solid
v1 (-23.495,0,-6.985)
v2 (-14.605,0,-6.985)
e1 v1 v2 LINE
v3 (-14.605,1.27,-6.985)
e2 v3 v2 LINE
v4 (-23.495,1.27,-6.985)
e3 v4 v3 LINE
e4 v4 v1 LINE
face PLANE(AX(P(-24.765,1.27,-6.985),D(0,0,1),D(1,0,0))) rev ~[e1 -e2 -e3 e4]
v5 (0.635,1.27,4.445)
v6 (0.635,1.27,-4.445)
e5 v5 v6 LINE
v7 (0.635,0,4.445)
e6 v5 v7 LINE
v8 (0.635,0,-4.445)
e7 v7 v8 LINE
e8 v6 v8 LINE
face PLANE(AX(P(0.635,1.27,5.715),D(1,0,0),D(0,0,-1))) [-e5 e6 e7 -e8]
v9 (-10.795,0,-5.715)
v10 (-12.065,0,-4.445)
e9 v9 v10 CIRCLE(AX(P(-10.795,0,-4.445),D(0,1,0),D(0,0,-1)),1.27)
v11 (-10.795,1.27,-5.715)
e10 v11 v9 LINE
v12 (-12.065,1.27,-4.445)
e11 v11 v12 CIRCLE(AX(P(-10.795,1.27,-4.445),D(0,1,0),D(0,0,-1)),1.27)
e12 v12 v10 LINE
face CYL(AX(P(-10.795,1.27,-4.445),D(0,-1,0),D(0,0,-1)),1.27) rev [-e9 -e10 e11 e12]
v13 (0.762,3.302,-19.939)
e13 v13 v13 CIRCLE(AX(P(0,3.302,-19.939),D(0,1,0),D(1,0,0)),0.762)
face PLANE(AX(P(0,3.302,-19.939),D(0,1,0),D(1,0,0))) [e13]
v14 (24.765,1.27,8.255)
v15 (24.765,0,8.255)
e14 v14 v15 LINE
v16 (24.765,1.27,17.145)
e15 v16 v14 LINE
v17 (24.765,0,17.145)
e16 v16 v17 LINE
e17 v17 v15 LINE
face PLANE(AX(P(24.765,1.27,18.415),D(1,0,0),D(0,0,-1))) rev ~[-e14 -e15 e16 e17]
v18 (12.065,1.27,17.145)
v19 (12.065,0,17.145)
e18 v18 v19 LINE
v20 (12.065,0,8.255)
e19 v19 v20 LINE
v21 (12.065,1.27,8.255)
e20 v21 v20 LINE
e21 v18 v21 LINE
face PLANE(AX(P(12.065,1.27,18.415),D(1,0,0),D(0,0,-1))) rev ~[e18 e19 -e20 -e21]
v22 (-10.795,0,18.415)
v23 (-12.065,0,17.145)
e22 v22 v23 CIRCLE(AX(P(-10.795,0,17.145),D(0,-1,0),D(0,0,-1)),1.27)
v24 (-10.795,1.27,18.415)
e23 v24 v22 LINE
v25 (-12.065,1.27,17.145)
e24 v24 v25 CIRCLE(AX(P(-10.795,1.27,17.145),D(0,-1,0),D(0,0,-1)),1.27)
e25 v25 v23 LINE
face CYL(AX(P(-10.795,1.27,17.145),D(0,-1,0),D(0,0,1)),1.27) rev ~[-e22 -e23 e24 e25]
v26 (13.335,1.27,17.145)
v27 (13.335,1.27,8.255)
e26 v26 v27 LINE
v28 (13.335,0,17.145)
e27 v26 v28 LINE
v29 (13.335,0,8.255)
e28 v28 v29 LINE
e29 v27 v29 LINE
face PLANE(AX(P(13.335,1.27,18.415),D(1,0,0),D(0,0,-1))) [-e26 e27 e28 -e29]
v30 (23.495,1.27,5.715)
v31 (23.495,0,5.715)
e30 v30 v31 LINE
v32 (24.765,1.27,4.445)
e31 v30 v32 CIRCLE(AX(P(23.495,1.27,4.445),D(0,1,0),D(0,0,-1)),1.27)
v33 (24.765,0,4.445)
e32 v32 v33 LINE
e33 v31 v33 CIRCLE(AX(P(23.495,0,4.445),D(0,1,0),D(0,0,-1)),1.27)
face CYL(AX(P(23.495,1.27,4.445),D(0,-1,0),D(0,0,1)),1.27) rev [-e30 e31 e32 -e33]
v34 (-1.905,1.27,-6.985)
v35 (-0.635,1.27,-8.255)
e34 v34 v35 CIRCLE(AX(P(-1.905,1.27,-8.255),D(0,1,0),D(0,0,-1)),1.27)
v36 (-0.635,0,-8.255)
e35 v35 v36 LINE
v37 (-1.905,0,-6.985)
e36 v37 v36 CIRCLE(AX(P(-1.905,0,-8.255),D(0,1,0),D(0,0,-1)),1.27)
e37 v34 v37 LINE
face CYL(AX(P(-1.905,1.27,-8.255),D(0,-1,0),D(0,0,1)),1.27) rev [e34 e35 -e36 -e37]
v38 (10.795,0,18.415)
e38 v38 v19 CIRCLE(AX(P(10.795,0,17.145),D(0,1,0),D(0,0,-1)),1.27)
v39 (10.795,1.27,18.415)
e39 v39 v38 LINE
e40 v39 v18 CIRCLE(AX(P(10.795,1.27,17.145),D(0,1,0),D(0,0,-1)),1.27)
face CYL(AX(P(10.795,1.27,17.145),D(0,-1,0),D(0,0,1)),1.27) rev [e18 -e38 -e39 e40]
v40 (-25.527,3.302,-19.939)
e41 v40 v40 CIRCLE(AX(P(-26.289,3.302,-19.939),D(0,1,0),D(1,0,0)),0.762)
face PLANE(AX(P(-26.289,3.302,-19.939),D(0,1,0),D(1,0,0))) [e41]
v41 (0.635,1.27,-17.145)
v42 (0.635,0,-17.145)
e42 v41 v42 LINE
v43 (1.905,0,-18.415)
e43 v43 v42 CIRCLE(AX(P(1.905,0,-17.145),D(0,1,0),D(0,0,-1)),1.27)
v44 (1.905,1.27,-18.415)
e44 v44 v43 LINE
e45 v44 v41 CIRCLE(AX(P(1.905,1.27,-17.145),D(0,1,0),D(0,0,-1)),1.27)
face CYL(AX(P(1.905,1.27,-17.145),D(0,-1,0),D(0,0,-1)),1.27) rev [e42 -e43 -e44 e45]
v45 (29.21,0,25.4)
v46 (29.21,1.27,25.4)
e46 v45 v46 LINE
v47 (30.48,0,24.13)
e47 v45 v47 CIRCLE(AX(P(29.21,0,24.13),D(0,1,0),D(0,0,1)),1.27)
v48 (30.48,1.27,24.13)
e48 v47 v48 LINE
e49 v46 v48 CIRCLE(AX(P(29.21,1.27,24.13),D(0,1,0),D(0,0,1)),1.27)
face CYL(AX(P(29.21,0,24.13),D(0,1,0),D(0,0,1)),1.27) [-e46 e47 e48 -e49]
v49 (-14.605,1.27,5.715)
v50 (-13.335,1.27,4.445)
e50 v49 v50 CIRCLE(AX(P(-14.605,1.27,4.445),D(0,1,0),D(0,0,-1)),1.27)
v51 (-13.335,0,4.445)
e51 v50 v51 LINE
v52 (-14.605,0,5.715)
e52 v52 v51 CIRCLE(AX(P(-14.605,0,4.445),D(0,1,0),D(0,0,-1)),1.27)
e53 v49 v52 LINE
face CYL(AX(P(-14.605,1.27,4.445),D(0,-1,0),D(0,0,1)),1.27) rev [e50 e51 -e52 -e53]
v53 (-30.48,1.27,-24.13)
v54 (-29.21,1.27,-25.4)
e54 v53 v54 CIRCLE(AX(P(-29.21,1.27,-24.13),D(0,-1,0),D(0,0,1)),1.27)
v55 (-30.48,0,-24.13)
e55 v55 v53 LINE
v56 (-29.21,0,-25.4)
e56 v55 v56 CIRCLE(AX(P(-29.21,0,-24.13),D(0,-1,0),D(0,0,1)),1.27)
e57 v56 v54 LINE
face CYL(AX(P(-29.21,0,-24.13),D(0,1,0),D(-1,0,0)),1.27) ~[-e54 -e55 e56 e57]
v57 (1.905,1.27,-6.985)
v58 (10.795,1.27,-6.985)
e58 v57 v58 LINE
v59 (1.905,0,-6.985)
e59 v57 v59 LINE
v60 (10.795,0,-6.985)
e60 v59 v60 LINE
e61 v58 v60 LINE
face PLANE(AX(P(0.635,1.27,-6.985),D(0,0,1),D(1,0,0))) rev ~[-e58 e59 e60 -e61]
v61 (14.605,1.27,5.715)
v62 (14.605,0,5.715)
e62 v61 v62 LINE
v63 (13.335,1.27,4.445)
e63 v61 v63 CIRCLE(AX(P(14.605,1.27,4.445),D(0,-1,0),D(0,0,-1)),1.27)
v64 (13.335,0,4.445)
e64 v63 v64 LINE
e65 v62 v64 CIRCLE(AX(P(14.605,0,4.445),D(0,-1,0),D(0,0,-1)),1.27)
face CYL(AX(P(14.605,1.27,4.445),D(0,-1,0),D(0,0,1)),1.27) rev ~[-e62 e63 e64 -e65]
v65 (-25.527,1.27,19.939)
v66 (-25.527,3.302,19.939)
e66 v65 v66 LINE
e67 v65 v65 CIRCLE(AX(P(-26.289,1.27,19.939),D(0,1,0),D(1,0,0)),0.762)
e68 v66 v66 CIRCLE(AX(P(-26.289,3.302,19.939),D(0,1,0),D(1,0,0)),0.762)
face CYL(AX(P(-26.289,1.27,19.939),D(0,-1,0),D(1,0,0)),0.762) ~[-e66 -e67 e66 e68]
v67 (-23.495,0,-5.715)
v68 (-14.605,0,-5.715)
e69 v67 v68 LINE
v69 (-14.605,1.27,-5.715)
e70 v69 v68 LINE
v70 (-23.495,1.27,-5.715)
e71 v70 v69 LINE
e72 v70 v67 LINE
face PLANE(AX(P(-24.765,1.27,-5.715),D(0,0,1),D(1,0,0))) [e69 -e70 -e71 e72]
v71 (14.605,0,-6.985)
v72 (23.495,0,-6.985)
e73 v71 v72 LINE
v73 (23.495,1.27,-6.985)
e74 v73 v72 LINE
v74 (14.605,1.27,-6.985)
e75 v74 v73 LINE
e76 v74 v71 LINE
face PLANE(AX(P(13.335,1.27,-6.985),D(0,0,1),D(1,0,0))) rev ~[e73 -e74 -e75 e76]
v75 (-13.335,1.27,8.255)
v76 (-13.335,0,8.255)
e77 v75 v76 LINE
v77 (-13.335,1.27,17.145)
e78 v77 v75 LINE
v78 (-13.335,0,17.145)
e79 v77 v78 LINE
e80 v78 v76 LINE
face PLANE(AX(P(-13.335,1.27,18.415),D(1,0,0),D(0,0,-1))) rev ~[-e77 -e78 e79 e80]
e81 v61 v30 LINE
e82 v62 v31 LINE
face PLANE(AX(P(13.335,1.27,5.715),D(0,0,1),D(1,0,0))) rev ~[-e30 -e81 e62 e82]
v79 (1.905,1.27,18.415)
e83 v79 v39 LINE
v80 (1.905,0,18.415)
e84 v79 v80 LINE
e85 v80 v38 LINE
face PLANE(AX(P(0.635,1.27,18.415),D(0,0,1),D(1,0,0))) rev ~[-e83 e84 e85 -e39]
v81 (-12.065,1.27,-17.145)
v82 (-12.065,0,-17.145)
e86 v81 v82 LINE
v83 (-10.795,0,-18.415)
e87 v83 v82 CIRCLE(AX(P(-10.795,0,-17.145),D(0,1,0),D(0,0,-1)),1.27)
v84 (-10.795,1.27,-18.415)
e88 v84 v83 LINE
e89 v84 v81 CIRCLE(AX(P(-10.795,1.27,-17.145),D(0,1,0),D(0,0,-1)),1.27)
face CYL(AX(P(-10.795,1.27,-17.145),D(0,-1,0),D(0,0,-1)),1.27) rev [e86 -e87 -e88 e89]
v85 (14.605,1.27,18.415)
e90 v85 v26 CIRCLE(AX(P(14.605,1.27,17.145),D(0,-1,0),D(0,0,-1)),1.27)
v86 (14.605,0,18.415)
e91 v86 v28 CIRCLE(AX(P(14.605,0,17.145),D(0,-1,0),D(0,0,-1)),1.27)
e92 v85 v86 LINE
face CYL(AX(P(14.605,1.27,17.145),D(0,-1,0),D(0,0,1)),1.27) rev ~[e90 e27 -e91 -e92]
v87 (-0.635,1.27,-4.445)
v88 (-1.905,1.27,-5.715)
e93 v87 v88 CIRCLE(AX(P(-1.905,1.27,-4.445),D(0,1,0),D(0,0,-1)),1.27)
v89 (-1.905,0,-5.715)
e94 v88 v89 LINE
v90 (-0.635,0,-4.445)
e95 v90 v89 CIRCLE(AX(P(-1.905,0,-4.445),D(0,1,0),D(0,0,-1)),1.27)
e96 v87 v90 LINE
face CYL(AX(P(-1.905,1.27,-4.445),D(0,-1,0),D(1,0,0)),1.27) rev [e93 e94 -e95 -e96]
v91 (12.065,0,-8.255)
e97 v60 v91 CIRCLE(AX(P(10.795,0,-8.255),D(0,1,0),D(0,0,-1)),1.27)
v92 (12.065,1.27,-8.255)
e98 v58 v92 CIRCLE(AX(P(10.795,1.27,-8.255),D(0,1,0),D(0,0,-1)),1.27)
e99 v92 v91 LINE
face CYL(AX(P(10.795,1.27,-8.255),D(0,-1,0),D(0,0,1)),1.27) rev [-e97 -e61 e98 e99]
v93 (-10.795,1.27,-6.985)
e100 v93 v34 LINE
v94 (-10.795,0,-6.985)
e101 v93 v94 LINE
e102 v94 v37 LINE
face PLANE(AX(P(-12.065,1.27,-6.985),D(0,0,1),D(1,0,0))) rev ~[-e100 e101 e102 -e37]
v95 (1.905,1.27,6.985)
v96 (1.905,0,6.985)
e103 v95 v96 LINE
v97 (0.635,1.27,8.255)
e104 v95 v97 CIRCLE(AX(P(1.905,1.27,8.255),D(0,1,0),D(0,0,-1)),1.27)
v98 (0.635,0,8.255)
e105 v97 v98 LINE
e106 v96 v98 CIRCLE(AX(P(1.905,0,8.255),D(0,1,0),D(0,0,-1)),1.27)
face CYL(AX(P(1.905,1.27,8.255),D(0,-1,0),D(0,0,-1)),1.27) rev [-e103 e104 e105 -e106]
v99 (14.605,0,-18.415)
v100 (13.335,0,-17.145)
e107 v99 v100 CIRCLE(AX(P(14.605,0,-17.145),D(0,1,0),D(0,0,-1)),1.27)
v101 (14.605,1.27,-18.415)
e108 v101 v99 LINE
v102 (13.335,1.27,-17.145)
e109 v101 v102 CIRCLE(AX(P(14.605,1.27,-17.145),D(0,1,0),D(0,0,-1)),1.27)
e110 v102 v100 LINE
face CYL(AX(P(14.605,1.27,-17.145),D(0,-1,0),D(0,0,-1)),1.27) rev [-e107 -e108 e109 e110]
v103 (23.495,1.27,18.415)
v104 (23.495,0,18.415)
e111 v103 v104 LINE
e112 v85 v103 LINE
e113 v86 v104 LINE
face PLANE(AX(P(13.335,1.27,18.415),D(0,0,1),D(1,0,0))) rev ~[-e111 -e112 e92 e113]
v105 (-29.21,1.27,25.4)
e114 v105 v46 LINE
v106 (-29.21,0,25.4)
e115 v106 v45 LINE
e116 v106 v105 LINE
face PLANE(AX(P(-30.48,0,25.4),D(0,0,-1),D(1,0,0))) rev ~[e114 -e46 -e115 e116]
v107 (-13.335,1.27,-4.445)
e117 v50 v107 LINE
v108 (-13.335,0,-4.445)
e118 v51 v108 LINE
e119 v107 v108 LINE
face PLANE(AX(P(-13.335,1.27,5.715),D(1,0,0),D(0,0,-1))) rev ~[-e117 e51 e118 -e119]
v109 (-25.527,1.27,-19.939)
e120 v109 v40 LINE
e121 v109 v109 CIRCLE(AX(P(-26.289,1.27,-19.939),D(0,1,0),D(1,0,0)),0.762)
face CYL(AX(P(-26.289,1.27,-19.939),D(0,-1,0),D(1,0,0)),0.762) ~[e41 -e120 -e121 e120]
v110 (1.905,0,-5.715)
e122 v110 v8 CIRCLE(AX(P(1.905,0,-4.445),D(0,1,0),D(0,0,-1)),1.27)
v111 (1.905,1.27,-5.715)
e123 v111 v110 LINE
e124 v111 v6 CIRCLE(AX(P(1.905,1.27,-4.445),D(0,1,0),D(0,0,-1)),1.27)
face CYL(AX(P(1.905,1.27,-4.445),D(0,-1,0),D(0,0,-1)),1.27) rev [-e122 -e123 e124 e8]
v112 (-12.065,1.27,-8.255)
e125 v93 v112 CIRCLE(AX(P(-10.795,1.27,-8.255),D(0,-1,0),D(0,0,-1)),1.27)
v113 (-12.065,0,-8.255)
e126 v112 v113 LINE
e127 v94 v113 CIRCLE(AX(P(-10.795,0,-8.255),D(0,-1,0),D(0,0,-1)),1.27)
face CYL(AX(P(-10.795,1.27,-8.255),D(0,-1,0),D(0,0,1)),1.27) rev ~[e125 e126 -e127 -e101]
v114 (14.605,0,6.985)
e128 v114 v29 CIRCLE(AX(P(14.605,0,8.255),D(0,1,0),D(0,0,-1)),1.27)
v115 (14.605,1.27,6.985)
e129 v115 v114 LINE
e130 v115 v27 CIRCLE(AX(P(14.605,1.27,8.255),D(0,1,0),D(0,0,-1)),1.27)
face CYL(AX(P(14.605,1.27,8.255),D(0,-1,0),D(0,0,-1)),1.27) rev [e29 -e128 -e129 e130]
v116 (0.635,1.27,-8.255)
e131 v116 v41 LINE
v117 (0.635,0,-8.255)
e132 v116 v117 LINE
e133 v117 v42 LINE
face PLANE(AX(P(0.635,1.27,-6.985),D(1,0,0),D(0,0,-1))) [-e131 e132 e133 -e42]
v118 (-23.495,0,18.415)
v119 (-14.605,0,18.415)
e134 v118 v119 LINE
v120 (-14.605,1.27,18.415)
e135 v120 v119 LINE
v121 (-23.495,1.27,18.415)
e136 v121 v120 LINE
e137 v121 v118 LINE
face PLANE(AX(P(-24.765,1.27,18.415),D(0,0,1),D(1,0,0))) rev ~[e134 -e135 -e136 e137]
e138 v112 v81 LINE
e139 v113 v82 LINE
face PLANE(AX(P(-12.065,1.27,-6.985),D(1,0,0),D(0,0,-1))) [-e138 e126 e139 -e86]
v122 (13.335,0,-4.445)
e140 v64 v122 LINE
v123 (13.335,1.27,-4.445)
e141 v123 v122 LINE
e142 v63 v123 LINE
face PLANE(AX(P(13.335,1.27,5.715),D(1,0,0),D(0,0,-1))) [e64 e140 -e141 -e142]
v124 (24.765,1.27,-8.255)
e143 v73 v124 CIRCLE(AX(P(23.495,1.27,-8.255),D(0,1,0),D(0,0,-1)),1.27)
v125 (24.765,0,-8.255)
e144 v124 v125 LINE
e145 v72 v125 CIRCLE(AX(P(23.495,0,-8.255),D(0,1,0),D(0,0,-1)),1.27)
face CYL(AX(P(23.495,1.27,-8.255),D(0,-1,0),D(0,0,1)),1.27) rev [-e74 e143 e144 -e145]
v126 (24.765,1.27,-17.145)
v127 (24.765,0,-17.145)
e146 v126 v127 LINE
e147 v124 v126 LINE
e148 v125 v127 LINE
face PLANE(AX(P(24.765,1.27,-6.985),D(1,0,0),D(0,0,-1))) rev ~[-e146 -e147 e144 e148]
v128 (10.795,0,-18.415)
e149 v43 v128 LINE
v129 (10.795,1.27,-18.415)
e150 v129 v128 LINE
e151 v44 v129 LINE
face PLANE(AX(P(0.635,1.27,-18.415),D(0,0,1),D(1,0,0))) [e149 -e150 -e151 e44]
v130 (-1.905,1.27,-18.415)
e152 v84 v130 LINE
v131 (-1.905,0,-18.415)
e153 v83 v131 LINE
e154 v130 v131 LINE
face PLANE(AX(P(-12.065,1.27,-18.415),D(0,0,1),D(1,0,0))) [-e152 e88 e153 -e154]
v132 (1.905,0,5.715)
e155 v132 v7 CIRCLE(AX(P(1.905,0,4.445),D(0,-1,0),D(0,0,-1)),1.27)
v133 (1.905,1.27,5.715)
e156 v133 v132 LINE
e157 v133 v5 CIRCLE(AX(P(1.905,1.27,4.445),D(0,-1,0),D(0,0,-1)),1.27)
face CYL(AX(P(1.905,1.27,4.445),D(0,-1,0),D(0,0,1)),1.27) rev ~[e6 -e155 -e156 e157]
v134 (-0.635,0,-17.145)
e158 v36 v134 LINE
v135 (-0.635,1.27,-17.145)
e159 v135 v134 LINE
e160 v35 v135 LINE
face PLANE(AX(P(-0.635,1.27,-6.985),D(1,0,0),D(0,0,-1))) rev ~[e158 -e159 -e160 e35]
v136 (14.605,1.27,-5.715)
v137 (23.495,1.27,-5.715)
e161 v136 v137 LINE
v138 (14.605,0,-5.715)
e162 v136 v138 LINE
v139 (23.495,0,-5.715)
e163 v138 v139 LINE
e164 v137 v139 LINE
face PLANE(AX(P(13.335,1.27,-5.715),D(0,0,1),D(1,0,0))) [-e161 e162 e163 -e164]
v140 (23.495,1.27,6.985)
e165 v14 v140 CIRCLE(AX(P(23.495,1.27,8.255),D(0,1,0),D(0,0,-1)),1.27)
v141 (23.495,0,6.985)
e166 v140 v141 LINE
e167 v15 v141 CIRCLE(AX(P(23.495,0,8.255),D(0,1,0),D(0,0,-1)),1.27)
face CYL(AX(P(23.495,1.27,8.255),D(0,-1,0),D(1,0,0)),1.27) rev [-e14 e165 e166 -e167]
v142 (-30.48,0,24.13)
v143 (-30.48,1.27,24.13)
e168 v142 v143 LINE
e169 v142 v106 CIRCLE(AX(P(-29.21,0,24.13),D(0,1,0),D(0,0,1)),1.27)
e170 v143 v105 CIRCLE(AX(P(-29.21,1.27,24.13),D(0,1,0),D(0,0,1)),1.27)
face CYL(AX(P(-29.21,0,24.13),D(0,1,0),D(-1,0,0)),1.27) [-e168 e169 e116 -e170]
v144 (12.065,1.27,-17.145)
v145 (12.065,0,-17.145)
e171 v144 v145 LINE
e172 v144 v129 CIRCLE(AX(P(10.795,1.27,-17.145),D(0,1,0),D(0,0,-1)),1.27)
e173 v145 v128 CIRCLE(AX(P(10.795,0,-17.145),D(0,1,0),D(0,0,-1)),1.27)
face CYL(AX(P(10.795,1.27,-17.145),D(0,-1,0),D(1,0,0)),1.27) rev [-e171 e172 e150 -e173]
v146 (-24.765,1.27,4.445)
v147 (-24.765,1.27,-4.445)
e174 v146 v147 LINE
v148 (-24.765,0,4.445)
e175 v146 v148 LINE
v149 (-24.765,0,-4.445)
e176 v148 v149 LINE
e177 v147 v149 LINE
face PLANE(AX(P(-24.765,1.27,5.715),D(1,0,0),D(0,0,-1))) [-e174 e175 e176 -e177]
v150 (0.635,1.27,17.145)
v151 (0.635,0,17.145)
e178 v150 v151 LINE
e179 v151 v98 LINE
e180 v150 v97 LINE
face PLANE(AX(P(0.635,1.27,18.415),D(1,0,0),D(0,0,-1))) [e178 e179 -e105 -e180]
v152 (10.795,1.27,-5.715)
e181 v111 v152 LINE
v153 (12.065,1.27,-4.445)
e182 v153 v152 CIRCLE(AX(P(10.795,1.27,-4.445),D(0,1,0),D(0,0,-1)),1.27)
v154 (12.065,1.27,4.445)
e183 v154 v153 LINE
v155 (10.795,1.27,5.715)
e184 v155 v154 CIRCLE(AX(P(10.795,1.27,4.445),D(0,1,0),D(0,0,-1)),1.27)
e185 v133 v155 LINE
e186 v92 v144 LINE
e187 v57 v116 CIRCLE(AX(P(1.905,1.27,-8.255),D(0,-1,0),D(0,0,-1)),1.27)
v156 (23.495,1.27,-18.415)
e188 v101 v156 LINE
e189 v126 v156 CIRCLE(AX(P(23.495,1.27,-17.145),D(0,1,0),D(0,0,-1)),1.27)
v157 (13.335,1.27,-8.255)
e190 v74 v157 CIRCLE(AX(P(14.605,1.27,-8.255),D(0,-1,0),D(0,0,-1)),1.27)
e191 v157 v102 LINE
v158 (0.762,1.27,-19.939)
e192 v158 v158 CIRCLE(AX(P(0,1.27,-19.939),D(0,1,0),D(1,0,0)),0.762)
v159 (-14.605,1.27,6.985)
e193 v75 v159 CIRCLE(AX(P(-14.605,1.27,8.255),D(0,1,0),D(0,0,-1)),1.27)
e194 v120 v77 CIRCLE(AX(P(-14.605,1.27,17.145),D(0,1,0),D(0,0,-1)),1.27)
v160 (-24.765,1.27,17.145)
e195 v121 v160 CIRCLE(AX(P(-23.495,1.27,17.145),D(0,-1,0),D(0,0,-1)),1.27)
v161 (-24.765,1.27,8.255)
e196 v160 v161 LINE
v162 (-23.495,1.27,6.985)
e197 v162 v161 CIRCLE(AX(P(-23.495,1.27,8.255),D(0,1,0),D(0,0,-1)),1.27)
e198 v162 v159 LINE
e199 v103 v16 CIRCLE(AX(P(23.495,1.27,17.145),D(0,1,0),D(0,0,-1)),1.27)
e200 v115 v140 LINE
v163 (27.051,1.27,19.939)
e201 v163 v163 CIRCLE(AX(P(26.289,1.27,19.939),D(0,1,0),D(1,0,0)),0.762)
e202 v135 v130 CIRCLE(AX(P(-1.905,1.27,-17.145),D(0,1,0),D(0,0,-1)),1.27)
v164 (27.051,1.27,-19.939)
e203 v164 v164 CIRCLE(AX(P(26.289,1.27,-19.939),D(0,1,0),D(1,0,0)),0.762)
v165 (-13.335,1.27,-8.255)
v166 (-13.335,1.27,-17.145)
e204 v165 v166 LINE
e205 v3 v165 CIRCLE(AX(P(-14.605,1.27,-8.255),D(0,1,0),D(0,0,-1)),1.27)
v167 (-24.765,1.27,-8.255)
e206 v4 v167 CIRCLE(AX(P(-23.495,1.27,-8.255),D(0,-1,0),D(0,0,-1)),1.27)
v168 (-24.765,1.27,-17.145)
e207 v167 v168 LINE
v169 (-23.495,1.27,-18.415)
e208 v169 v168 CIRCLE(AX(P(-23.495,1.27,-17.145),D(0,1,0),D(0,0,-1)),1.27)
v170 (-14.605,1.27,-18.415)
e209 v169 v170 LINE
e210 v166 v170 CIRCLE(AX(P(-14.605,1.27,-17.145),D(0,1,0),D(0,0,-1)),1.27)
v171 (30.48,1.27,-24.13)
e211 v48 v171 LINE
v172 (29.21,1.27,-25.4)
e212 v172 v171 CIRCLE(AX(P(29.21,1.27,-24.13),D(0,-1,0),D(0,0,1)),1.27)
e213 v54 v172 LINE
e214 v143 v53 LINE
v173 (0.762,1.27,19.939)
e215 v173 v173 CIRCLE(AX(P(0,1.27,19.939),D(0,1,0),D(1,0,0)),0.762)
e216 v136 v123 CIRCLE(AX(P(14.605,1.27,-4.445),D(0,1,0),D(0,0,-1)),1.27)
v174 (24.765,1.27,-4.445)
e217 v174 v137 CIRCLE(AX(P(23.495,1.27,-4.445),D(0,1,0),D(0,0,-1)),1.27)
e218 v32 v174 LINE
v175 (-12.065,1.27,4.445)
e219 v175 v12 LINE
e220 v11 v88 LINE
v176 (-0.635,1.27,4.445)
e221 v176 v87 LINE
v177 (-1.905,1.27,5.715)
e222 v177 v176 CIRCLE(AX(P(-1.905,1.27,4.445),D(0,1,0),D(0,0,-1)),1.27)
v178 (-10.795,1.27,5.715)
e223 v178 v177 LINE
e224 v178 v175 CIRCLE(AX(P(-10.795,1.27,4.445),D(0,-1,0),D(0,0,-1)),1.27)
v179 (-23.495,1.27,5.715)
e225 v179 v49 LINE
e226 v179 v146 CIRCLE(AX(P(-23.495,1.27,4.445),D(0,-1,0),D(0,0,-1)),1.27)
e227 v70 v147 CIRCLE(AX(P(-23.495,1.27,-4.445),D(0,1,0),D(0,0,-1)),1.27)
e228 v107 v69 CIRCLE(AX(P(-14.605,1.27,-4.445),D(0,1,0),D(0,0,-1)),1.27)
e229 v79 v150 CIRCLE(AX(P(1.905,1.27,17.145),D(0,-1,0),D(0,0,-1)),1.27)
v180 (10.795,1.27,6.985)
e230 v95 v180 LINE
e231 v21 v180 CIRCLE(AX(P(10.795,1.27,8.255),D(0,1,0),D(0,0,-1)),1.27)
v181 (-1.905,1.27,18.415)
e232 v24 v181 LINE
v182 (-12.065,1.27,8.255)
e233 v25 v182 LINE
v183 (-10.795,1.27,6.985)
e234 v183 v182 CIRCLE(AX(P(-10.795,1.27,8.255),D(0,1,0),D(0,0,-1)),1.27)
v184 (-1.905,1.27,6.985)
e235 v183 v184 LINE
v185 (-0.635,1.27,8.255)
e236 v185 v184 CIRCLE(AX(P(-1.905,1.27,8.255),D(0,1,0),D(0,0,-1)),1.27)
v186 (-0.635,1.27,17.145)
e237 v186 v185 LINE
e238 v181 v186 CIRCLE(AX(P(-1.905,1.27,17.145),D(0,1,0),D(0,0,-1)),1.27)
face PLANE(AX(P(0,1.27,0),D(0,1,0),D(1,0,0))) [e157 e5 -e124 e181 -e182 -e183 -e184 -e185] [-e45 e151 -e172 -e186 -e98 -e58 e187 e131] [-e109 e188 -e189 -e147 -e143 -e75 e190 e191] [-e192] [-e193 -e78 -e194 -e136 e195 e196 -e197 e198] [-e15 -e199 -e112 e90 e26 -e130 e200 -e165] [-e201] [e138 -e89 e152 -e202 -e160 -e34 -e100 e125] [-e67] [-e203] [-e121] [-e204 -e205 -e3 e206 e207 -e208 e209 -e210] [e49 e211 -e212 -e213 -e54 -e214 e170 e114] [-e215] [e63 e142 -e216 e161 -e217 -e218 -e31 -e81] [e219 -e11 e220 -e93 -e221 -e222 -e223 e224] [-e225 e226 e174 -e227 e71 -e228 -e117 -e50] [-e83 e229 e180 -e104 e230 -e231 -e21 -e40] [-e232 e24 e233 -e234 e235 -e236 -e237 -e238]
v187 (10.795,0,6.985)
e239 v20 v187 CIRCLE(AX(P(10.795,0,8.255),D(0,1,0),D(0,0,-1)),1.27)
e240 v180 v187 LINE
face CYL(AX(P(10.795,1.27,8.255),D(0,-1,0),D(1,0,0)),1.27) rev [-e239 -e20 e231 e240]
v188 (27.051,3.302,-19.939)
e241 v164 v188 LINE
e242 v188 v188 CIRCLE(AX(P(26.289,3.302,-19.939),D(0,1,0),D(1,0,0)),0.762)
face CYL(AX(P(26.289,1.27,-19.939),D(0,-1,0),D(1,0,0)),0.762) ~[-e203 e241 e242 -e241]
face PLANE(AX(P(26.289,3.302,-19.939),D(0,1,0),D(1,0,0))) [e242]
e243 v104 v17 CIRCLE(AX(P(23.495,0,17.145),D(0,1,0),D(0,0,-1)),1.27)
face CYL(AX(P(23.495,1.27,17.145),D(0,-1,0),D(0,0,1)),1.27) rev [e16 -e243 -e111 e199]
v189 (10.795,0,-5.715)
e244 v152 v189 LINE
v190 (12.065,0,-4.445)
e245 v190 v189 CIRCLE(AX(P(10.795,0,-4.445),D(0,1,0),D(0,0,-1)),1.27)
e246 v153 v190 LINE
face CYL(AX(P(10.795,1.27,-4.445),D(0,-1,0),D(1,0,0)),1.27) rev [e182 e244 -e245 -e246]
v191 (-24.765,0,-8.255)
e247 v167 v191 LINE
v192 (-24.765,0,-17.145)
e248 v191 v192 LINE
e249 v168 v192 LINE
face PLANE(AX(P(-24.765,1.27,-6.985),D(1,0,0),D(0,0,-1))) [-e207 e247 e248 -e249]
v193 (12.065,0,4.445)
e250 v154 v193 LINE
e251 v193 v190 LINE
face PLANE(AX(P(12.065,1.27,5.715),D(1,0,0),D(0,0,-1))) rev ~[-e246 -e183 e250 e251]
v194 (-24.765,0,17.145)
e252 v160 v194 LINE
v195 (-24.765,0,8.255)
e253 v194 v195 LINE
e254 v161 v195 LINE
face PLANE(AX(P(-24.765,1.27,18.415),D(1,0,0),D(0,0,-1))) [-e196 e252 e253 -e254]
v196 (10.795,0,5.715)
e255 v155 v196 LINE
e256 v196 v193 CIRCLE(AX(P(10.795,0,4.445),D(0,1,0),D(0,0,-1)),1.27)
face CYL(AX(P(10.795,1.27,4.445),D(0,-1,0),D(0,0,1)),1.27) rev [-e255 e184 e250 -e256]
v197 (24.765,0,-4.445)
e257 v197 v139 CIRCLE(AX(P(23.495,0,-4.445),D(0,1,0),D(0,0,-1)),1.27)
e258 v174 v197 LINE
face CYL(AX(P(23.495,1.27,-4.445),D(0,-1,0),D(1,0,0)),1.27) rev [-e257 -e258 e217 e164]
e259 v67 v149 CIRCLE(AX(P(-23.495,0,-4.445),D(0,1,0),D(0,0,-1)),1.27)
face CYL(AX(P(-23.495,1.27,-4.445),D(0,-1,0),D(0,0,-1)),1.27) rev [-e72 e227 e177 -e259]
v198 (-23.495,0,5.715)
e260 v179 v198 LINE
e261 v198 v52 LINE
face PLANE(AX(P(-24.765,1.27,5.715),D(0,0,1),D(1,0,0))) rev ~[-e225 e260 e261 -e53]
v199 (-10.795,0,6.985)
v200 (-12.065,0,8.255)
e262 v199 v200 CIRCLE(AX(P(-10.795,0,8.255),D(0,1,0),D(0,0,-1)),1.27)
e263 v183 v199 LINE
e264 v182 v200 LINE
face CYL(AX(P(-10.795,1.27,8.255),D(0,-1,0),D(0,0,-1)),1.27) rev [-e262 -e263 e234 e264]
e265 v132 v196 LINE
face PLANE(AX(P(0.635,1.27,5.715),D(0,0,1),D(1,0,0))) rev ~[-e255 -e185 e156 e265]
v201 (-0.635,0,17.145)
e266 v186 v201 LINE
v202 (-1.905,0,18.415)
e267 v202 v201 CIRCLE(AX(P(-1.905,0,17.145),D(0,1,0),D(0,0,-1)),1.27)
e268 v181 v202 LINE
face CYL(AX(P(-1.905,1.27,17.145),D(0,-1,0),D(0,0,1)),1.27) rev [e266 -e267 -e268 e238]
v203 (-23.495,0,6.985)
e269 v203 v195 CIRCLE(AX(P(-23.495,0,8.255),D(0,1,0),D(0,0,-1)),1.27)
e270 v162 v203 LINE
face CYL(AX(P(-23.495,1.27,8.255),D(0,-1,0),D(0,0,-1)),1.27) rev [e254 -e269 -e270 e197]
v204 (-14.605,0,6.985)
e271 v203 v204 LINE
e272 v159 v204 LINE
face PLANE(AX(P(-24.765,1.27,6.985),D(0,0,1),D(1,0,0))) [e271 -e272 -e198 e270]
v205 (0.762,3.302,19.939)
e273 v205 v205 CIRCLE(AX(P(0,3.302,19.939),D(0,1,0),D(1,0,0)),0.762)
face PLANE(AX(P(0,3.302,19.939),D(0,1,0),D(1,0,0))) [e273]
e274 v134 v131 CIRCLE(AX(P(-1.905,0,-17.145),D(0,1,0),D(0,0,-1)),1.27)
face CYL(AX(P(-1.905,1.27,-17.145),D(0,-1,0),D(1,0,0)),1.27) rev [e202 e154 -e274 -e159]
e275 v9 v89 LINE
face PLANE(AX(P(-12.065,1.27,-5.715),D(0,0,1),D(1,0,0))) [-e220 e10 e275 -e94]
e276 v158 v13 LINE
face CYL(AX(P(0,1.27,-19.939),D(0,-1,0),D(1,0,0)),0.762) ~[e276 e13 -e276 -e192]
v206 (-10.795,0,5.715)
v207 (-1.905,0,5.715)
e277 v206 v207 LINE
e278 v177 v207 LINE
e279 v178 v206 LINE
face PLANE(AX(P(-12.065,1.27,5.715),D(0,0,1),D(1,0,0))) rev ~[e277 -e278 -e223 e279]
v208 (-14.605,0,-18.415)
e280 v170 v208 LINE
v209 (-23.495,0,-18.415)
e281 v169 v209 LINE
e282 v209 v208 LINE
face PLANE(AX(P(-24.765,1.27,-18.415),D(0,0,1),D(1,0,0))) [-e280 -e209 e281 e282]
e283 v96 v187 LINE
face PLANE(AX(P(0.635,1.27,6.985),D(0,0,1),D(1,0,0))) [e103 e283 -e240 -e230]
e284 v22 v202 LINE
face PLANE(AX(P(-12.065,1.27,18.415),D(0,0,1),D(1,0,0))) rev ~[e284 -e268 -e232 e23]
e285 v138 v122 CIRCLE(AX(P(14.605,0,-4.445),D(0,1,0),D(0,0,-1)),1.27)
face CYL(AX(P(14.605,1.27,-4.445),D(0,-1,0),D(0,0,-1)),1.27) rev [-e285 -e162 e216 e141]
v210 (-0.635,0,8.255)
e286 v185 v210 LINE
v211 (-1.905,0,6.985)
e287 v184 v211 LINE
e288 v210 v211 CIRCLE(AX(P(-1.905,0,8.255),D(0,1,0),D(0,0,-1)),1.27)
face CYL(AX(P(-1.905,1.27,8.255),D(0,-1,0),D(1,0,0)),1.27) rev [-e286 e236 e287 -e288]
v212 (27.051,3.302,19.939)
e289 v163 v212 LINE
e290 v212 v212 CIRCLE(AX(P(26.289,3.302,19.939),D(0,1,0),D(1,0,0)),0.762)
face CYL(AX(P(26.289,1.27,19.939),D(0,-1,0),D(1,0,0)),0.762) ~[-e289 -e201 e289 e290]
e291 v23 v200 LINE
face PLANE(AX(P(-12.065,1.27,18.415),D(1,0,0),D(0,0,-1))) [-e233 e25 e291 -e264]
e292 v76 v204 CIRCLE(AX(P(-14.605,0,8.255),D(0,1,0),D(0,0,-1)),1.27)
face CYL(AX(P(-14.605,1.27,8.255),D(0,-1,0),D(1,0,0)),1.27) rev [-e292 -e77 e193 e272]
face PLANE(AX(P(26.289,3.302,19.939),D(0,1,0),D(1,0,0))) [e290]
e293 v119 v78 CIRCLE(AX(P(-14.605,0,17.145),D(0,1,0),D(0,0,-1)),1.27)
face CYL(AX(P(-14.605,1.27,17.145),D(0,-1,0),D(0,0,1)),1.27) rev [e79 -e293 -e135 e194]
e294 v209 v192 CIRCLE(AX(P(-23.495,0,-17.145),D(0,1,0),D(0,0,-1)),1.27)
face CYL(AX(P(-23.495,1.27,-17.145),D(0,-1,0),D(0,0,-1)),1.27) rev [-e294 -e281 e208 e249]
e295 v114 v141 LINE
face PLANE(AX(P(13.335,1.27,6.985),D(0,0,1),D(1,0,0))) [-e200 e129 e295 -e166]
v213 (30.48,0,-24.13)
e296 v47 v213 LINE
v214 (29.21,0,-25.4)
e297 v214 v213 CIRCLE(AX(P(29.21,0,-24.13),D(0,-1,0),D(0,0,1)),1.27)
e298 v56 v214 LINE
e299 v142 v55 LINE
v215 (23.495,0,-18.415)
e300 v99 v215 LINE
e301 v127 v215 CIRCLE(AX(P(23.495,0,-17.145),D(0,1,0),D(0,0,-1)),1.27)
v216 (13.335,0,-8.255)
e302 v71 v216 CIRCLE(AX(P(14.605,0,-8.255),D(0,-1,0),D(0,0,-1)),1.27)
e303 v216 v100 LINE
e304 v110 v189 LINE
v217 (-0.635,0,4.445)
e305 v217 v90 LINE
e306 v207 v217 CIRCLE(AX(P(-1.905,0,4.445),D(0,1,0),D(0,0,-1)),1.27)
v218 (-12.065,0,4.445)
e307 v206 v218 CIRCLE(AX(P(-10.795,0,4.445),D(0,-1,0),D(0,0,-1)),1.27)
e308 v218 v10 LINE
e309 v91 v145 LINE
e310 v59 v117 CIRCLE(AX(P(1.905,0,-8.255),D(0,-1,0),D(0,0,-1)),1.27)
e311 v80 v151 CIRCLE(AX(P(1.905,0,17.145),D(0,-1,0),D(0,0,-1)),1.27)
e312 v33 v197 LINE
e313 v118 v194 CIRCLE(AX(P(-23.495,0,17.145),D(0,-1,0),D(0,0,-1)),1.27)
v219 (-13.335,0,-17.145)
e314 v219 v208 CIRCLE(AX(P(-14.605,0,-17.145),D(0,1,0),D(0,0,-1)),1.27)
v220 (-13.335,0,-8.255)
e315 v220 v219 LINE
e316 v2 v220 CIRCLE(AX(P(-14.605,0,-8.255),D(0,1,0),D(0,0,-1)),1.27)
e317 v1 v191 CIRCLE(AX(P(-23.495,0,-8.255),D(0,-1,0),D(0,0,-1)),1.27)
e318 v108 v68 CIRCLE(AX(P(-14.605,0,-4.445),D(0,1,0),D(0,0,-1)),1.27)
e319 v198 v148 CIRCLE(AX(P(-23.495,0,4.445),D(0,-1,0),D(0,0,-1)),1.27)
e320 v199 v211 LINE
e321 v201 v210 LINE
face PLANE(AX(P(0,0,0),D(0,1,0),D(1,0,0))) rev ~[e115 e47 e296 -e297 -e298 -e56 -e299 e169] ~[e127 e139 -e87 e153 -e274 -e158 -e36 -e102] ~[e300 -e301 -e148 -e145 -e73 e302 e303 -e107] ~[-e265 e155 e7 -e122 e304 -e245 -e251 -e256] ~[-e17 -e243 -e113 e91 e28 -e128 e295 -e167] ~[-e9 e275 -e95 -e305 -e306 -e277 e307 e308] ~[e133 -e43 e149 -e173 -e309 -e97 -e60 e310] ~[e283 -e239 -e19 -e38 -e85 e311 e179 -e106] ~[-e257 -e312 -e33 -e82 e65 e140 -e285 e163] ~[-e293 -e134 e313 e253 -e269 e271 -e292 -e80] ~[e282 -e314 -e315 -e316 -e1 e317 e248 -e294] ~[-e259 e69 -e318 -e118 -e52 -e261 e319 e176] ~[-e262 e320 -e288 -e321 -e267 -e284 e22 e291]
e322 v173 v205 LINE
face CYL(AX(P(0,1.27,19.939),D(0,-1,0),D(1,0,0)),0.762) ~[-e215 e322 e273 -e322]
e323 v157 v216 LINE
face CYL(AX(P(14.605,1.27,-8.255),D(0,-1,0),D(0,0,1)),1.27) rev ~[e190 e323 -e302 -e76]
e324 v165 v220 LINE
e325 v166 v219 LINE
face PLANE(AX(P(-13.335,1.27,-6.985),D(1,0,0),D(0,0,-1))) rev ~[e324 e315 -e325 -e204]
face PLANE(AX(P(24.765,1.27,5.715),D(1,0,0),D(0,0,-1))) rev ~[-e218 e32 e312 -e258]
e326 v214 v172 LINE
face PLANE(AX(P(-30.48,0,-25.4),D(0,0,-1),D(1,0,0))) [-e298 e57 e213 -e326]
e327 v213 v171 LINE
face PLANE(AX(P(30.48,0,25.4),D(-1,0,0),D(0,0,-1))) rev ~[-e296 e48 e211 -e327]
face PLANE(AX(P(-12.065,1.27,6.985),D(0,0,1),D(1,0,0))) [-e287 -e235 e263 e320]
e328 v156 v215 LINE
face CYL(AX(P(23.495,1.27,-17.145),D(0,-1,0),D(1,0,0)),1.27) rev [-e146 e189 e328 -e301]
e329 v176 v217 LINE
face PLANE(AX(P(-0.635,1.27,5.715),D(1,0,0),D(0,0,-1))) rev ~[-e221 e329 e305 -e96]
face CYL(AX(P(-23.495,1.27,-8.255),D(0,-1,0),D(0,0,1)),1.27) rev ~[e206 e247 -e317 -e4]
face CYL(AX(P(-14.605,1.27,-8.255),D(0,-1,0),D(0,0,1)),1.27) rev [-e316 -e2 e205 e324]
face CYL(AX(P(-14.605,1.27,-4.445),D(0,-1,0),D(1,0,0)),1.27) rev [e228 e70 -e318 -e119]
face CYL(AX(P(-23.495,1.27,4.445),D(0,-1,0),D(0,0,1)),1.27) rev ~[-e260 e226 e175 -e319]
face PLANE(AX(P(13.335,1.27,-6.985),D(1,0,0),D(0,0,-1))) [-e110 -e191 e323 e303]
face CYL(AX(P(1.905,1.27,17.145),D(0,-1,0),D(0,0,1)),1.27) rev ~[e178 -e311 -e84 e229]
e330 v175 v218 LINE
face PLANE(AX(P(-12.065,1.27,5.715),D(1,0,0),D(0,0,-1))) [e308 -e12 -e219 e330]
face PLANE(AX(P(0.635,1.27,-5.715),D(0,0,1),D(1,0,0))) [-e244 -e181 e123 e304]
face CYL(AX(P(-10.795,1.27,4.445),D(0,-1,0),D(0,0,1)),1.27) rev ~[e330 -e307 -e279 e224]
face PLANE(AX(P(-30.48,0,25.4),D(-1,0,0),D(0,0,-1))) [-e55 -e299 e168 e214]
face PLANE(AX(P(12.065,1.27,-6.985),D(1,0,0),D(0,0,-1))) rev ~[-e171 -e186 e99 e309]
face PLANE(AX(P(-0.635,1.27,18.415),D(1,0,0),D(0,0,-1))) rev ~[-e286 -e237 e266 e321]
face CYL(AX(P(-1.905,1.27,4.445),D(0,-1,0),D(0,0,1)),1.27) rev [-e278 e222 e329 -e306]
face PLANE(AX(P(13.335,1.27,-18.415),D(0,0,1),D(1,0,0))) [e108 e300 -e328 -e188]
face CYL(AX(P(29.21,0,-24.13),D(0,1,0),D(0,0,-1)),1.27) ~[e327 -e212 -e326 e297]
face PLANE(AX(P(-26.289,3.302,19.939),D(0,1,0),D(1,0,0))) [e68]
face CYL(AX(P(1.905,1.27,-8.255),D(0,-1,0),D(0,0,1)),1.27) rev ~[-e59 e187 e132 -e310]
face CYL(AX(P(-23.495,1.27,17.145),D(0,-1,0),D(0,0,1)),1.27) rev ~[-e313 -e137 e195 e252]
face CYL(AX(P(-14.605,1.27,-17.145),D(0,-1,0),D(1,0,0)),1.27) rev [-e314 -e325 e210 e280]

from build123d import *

# Parameters (mm, degrees)
SKETCH1_W               = 60.96
SKETCH1_H               = 50.8
BOSS_EXTRUDE1_DEPTH     = 1.27
SKETCH2_W               = 11.43
SKETCH2_H               = 11.43
CUT_EXTRUDE1_DEPTH      = 2.27
FILLET2_R               = 1.27
SKETCH4_R               = 0.762
BOSS_EXTRUDE2_DEPTH     = 2.032
FILLET3_R               = 1.27
LPATTERN13_COUNT        = 4
LPATTERN13_PITCH        = 12.7
LPATTERN13_COUNT_DIR2   = 3
LPATTERN13_PITCH_DIR2   = 12.7
FILLET2_OF_LPATTERN13_R = 1.27
LPATTERN14_COUNT        = 3
LPATTERN14_PITCH        = 26.289
LPATTERN14_COUNT_DIR2   = 3
LPATTERN14_PITCH_DIR2   = 39.878


with BuildPart() as part:
    # Sketch1 → Boss-Extrude1 (new body)
    with BuildSketch(Plane(origin=(0, 0, 0), x_dir=(1, 0, 0), z_dir=(0, 1, 0))):
        Rectangle(SKETCH1_W, SKETCH1_H)
    extrude(amount=BOSS_EXTRUDE1_DEPTH)

    # Sketch2 → Cut-Extrude1 (cut, through all)
    with BuildSketch(Plane(origin=(0, 1.27, 0), x_dir=(1, 0, 0), z_dir=(0, 1, 0))):
        with Locations((-19.05, 12.7)):
            Rectangle(SKETCH2_W, SKETCH2_H)
    cut_extrude1 = extrude(amount=-CUT_EXTRUDE1_DEPTH, mode=Mode.SUBTRACT)

    # Fillet2
    fillet2_edges = [part.edges().sort_by_distance(p)[0] for p in [
        (-13.335, 0.635, -18.415),
        (-13.335, 0.635, -6.985),
        (-24.765, 0.635, -6.985),
        (-24.765, 0.635, -18.415),
    ]]
    fillet(fillet2_edges, radius=FILLET2_R)

    # Sketch4 → Boss-Extrude2 (add)
    with BuildSketch(Plane(origin=(0, 1.27, 0), x_dir=(1, 0, 0), z_dir=(0, 1, 0))):
        with Locations((-26.289, 19.939)):
            Circle(SKETCH4_R)
    boss_extrude2 = extrude(amount=BOSS_EXTRUDE2_DEPTH)

    # Fillet3
    fillet3_edges = [part.edges().sort_by_distance(p)[0] for p in [
        (-30.48, 0.635, -25.4),
        (30.48, 0.635, -25.4),
        (30.48, 0.635, 25.4),
        (-30.48, 0.635, 25.4),
    ]]
    fillet(fillet3_edges, radius=FILLET3_R)

    # LPattern13: Cut-Extrude1 4 × 3
    with Locations(*[(i * LPATTERN13_PITCH, 0, j * LPATTERN13_PITCH_DIR2) for i in range(LPATTERN13_COUNT) for j in range(LPATTERN13_COUNT_DIR2) if (i, j) != (0, 0)]):
        add(cut_extrude1, mode=Mode.SUBTRACT)

    # Fillet2 of LPattern13
    fillet2_of_lpattern13_edges = [part.edges().sort_by_distance(p)[0] for p in [
        (-13.335, 0.635, -5.715),
        (-13.335, 0.635, 5.715),
        (-24.765, 0.635, 5.715),
        (-24.765, 0.635, -5.715),
        (-13.335, 0.635, 6.985),
        (-13.335, 0.635, 18.415),
        (-24.765, 0.635, 18.415),
        (-24.765, 0.635, 6.985),
        (-0.635, 0.635, -18.415),
        (-0.635, 0.635, -6.985),
        (-12.065, 0.635, -6.985),
        (-12.065, 0.635, -18.415),
        (-0.635, 0.635, -5.715),
        (-0.635, 0.635, 5.715),
        (-12.065, 0.635, 5.715),
        (-12.065, 0.635, -5.715),
        (-0.635, 0.635, 6.985),
        (-0.635, 0.635, 18.415),
        (-12.065, 0.635, 18.415),
        (-12.065, 0.635, 6.985),
        (12.065, 0.635, -18.415),
        (12.065, 0.635, -6.985),
        (0.635, 0.635, -6.985),
        (0.635, 0.635, -18.415),
        (12.065, 0.635, -5.715),
        (12.065, 0.635, 5.715),
        (0.635, 0.635, 5.715),
        (0.635, 0.635, -5.715),
        (12.065, 0.635, 6.985),
        (12.065, 0.635, 18.415),
        (0.635, 0.635, 18.415),
        (0.635, 0.635, 6.985),
        (24.765, 0.635, -18.415),
        (24.765, 0.635, -6.985),
        (13.335, 0.635, -6.985),
        (13.335, 0.635, -18.415),
        (24.765, 0.635, -5.715),
        (24.765, 0.635, 5.715),
        (13.335, 0.635, 5.715),
        (13.335, 0.635, -5.715),
        (24.765, 0.635, 6.985),
        (24.765, 0.635, 18.415),
        (13.335, 0.635, 18.415),
        (13.335, 0.635, 6.985),
    ]]
    fillet(fillet2_of_lpattern13_edges, radius=FILLET2_OF_LPATTERN13_R)

    # LPattern14: Boss-Extrude2 3 × 3, 3 skipped
    with Locations(*[(i * LPATTERN14_PITCH, 0, j * LPATTERN14_PITCH_DIR2) for i in range(LPATTERN14_COUNT) for j in range(LPATTERN14_COUNT_DIR2) if (i, j) not in ((0, 0), (0, 2), (1, 2), (2, 2))]):
        add(boss_extrude2)


solid = part.part
